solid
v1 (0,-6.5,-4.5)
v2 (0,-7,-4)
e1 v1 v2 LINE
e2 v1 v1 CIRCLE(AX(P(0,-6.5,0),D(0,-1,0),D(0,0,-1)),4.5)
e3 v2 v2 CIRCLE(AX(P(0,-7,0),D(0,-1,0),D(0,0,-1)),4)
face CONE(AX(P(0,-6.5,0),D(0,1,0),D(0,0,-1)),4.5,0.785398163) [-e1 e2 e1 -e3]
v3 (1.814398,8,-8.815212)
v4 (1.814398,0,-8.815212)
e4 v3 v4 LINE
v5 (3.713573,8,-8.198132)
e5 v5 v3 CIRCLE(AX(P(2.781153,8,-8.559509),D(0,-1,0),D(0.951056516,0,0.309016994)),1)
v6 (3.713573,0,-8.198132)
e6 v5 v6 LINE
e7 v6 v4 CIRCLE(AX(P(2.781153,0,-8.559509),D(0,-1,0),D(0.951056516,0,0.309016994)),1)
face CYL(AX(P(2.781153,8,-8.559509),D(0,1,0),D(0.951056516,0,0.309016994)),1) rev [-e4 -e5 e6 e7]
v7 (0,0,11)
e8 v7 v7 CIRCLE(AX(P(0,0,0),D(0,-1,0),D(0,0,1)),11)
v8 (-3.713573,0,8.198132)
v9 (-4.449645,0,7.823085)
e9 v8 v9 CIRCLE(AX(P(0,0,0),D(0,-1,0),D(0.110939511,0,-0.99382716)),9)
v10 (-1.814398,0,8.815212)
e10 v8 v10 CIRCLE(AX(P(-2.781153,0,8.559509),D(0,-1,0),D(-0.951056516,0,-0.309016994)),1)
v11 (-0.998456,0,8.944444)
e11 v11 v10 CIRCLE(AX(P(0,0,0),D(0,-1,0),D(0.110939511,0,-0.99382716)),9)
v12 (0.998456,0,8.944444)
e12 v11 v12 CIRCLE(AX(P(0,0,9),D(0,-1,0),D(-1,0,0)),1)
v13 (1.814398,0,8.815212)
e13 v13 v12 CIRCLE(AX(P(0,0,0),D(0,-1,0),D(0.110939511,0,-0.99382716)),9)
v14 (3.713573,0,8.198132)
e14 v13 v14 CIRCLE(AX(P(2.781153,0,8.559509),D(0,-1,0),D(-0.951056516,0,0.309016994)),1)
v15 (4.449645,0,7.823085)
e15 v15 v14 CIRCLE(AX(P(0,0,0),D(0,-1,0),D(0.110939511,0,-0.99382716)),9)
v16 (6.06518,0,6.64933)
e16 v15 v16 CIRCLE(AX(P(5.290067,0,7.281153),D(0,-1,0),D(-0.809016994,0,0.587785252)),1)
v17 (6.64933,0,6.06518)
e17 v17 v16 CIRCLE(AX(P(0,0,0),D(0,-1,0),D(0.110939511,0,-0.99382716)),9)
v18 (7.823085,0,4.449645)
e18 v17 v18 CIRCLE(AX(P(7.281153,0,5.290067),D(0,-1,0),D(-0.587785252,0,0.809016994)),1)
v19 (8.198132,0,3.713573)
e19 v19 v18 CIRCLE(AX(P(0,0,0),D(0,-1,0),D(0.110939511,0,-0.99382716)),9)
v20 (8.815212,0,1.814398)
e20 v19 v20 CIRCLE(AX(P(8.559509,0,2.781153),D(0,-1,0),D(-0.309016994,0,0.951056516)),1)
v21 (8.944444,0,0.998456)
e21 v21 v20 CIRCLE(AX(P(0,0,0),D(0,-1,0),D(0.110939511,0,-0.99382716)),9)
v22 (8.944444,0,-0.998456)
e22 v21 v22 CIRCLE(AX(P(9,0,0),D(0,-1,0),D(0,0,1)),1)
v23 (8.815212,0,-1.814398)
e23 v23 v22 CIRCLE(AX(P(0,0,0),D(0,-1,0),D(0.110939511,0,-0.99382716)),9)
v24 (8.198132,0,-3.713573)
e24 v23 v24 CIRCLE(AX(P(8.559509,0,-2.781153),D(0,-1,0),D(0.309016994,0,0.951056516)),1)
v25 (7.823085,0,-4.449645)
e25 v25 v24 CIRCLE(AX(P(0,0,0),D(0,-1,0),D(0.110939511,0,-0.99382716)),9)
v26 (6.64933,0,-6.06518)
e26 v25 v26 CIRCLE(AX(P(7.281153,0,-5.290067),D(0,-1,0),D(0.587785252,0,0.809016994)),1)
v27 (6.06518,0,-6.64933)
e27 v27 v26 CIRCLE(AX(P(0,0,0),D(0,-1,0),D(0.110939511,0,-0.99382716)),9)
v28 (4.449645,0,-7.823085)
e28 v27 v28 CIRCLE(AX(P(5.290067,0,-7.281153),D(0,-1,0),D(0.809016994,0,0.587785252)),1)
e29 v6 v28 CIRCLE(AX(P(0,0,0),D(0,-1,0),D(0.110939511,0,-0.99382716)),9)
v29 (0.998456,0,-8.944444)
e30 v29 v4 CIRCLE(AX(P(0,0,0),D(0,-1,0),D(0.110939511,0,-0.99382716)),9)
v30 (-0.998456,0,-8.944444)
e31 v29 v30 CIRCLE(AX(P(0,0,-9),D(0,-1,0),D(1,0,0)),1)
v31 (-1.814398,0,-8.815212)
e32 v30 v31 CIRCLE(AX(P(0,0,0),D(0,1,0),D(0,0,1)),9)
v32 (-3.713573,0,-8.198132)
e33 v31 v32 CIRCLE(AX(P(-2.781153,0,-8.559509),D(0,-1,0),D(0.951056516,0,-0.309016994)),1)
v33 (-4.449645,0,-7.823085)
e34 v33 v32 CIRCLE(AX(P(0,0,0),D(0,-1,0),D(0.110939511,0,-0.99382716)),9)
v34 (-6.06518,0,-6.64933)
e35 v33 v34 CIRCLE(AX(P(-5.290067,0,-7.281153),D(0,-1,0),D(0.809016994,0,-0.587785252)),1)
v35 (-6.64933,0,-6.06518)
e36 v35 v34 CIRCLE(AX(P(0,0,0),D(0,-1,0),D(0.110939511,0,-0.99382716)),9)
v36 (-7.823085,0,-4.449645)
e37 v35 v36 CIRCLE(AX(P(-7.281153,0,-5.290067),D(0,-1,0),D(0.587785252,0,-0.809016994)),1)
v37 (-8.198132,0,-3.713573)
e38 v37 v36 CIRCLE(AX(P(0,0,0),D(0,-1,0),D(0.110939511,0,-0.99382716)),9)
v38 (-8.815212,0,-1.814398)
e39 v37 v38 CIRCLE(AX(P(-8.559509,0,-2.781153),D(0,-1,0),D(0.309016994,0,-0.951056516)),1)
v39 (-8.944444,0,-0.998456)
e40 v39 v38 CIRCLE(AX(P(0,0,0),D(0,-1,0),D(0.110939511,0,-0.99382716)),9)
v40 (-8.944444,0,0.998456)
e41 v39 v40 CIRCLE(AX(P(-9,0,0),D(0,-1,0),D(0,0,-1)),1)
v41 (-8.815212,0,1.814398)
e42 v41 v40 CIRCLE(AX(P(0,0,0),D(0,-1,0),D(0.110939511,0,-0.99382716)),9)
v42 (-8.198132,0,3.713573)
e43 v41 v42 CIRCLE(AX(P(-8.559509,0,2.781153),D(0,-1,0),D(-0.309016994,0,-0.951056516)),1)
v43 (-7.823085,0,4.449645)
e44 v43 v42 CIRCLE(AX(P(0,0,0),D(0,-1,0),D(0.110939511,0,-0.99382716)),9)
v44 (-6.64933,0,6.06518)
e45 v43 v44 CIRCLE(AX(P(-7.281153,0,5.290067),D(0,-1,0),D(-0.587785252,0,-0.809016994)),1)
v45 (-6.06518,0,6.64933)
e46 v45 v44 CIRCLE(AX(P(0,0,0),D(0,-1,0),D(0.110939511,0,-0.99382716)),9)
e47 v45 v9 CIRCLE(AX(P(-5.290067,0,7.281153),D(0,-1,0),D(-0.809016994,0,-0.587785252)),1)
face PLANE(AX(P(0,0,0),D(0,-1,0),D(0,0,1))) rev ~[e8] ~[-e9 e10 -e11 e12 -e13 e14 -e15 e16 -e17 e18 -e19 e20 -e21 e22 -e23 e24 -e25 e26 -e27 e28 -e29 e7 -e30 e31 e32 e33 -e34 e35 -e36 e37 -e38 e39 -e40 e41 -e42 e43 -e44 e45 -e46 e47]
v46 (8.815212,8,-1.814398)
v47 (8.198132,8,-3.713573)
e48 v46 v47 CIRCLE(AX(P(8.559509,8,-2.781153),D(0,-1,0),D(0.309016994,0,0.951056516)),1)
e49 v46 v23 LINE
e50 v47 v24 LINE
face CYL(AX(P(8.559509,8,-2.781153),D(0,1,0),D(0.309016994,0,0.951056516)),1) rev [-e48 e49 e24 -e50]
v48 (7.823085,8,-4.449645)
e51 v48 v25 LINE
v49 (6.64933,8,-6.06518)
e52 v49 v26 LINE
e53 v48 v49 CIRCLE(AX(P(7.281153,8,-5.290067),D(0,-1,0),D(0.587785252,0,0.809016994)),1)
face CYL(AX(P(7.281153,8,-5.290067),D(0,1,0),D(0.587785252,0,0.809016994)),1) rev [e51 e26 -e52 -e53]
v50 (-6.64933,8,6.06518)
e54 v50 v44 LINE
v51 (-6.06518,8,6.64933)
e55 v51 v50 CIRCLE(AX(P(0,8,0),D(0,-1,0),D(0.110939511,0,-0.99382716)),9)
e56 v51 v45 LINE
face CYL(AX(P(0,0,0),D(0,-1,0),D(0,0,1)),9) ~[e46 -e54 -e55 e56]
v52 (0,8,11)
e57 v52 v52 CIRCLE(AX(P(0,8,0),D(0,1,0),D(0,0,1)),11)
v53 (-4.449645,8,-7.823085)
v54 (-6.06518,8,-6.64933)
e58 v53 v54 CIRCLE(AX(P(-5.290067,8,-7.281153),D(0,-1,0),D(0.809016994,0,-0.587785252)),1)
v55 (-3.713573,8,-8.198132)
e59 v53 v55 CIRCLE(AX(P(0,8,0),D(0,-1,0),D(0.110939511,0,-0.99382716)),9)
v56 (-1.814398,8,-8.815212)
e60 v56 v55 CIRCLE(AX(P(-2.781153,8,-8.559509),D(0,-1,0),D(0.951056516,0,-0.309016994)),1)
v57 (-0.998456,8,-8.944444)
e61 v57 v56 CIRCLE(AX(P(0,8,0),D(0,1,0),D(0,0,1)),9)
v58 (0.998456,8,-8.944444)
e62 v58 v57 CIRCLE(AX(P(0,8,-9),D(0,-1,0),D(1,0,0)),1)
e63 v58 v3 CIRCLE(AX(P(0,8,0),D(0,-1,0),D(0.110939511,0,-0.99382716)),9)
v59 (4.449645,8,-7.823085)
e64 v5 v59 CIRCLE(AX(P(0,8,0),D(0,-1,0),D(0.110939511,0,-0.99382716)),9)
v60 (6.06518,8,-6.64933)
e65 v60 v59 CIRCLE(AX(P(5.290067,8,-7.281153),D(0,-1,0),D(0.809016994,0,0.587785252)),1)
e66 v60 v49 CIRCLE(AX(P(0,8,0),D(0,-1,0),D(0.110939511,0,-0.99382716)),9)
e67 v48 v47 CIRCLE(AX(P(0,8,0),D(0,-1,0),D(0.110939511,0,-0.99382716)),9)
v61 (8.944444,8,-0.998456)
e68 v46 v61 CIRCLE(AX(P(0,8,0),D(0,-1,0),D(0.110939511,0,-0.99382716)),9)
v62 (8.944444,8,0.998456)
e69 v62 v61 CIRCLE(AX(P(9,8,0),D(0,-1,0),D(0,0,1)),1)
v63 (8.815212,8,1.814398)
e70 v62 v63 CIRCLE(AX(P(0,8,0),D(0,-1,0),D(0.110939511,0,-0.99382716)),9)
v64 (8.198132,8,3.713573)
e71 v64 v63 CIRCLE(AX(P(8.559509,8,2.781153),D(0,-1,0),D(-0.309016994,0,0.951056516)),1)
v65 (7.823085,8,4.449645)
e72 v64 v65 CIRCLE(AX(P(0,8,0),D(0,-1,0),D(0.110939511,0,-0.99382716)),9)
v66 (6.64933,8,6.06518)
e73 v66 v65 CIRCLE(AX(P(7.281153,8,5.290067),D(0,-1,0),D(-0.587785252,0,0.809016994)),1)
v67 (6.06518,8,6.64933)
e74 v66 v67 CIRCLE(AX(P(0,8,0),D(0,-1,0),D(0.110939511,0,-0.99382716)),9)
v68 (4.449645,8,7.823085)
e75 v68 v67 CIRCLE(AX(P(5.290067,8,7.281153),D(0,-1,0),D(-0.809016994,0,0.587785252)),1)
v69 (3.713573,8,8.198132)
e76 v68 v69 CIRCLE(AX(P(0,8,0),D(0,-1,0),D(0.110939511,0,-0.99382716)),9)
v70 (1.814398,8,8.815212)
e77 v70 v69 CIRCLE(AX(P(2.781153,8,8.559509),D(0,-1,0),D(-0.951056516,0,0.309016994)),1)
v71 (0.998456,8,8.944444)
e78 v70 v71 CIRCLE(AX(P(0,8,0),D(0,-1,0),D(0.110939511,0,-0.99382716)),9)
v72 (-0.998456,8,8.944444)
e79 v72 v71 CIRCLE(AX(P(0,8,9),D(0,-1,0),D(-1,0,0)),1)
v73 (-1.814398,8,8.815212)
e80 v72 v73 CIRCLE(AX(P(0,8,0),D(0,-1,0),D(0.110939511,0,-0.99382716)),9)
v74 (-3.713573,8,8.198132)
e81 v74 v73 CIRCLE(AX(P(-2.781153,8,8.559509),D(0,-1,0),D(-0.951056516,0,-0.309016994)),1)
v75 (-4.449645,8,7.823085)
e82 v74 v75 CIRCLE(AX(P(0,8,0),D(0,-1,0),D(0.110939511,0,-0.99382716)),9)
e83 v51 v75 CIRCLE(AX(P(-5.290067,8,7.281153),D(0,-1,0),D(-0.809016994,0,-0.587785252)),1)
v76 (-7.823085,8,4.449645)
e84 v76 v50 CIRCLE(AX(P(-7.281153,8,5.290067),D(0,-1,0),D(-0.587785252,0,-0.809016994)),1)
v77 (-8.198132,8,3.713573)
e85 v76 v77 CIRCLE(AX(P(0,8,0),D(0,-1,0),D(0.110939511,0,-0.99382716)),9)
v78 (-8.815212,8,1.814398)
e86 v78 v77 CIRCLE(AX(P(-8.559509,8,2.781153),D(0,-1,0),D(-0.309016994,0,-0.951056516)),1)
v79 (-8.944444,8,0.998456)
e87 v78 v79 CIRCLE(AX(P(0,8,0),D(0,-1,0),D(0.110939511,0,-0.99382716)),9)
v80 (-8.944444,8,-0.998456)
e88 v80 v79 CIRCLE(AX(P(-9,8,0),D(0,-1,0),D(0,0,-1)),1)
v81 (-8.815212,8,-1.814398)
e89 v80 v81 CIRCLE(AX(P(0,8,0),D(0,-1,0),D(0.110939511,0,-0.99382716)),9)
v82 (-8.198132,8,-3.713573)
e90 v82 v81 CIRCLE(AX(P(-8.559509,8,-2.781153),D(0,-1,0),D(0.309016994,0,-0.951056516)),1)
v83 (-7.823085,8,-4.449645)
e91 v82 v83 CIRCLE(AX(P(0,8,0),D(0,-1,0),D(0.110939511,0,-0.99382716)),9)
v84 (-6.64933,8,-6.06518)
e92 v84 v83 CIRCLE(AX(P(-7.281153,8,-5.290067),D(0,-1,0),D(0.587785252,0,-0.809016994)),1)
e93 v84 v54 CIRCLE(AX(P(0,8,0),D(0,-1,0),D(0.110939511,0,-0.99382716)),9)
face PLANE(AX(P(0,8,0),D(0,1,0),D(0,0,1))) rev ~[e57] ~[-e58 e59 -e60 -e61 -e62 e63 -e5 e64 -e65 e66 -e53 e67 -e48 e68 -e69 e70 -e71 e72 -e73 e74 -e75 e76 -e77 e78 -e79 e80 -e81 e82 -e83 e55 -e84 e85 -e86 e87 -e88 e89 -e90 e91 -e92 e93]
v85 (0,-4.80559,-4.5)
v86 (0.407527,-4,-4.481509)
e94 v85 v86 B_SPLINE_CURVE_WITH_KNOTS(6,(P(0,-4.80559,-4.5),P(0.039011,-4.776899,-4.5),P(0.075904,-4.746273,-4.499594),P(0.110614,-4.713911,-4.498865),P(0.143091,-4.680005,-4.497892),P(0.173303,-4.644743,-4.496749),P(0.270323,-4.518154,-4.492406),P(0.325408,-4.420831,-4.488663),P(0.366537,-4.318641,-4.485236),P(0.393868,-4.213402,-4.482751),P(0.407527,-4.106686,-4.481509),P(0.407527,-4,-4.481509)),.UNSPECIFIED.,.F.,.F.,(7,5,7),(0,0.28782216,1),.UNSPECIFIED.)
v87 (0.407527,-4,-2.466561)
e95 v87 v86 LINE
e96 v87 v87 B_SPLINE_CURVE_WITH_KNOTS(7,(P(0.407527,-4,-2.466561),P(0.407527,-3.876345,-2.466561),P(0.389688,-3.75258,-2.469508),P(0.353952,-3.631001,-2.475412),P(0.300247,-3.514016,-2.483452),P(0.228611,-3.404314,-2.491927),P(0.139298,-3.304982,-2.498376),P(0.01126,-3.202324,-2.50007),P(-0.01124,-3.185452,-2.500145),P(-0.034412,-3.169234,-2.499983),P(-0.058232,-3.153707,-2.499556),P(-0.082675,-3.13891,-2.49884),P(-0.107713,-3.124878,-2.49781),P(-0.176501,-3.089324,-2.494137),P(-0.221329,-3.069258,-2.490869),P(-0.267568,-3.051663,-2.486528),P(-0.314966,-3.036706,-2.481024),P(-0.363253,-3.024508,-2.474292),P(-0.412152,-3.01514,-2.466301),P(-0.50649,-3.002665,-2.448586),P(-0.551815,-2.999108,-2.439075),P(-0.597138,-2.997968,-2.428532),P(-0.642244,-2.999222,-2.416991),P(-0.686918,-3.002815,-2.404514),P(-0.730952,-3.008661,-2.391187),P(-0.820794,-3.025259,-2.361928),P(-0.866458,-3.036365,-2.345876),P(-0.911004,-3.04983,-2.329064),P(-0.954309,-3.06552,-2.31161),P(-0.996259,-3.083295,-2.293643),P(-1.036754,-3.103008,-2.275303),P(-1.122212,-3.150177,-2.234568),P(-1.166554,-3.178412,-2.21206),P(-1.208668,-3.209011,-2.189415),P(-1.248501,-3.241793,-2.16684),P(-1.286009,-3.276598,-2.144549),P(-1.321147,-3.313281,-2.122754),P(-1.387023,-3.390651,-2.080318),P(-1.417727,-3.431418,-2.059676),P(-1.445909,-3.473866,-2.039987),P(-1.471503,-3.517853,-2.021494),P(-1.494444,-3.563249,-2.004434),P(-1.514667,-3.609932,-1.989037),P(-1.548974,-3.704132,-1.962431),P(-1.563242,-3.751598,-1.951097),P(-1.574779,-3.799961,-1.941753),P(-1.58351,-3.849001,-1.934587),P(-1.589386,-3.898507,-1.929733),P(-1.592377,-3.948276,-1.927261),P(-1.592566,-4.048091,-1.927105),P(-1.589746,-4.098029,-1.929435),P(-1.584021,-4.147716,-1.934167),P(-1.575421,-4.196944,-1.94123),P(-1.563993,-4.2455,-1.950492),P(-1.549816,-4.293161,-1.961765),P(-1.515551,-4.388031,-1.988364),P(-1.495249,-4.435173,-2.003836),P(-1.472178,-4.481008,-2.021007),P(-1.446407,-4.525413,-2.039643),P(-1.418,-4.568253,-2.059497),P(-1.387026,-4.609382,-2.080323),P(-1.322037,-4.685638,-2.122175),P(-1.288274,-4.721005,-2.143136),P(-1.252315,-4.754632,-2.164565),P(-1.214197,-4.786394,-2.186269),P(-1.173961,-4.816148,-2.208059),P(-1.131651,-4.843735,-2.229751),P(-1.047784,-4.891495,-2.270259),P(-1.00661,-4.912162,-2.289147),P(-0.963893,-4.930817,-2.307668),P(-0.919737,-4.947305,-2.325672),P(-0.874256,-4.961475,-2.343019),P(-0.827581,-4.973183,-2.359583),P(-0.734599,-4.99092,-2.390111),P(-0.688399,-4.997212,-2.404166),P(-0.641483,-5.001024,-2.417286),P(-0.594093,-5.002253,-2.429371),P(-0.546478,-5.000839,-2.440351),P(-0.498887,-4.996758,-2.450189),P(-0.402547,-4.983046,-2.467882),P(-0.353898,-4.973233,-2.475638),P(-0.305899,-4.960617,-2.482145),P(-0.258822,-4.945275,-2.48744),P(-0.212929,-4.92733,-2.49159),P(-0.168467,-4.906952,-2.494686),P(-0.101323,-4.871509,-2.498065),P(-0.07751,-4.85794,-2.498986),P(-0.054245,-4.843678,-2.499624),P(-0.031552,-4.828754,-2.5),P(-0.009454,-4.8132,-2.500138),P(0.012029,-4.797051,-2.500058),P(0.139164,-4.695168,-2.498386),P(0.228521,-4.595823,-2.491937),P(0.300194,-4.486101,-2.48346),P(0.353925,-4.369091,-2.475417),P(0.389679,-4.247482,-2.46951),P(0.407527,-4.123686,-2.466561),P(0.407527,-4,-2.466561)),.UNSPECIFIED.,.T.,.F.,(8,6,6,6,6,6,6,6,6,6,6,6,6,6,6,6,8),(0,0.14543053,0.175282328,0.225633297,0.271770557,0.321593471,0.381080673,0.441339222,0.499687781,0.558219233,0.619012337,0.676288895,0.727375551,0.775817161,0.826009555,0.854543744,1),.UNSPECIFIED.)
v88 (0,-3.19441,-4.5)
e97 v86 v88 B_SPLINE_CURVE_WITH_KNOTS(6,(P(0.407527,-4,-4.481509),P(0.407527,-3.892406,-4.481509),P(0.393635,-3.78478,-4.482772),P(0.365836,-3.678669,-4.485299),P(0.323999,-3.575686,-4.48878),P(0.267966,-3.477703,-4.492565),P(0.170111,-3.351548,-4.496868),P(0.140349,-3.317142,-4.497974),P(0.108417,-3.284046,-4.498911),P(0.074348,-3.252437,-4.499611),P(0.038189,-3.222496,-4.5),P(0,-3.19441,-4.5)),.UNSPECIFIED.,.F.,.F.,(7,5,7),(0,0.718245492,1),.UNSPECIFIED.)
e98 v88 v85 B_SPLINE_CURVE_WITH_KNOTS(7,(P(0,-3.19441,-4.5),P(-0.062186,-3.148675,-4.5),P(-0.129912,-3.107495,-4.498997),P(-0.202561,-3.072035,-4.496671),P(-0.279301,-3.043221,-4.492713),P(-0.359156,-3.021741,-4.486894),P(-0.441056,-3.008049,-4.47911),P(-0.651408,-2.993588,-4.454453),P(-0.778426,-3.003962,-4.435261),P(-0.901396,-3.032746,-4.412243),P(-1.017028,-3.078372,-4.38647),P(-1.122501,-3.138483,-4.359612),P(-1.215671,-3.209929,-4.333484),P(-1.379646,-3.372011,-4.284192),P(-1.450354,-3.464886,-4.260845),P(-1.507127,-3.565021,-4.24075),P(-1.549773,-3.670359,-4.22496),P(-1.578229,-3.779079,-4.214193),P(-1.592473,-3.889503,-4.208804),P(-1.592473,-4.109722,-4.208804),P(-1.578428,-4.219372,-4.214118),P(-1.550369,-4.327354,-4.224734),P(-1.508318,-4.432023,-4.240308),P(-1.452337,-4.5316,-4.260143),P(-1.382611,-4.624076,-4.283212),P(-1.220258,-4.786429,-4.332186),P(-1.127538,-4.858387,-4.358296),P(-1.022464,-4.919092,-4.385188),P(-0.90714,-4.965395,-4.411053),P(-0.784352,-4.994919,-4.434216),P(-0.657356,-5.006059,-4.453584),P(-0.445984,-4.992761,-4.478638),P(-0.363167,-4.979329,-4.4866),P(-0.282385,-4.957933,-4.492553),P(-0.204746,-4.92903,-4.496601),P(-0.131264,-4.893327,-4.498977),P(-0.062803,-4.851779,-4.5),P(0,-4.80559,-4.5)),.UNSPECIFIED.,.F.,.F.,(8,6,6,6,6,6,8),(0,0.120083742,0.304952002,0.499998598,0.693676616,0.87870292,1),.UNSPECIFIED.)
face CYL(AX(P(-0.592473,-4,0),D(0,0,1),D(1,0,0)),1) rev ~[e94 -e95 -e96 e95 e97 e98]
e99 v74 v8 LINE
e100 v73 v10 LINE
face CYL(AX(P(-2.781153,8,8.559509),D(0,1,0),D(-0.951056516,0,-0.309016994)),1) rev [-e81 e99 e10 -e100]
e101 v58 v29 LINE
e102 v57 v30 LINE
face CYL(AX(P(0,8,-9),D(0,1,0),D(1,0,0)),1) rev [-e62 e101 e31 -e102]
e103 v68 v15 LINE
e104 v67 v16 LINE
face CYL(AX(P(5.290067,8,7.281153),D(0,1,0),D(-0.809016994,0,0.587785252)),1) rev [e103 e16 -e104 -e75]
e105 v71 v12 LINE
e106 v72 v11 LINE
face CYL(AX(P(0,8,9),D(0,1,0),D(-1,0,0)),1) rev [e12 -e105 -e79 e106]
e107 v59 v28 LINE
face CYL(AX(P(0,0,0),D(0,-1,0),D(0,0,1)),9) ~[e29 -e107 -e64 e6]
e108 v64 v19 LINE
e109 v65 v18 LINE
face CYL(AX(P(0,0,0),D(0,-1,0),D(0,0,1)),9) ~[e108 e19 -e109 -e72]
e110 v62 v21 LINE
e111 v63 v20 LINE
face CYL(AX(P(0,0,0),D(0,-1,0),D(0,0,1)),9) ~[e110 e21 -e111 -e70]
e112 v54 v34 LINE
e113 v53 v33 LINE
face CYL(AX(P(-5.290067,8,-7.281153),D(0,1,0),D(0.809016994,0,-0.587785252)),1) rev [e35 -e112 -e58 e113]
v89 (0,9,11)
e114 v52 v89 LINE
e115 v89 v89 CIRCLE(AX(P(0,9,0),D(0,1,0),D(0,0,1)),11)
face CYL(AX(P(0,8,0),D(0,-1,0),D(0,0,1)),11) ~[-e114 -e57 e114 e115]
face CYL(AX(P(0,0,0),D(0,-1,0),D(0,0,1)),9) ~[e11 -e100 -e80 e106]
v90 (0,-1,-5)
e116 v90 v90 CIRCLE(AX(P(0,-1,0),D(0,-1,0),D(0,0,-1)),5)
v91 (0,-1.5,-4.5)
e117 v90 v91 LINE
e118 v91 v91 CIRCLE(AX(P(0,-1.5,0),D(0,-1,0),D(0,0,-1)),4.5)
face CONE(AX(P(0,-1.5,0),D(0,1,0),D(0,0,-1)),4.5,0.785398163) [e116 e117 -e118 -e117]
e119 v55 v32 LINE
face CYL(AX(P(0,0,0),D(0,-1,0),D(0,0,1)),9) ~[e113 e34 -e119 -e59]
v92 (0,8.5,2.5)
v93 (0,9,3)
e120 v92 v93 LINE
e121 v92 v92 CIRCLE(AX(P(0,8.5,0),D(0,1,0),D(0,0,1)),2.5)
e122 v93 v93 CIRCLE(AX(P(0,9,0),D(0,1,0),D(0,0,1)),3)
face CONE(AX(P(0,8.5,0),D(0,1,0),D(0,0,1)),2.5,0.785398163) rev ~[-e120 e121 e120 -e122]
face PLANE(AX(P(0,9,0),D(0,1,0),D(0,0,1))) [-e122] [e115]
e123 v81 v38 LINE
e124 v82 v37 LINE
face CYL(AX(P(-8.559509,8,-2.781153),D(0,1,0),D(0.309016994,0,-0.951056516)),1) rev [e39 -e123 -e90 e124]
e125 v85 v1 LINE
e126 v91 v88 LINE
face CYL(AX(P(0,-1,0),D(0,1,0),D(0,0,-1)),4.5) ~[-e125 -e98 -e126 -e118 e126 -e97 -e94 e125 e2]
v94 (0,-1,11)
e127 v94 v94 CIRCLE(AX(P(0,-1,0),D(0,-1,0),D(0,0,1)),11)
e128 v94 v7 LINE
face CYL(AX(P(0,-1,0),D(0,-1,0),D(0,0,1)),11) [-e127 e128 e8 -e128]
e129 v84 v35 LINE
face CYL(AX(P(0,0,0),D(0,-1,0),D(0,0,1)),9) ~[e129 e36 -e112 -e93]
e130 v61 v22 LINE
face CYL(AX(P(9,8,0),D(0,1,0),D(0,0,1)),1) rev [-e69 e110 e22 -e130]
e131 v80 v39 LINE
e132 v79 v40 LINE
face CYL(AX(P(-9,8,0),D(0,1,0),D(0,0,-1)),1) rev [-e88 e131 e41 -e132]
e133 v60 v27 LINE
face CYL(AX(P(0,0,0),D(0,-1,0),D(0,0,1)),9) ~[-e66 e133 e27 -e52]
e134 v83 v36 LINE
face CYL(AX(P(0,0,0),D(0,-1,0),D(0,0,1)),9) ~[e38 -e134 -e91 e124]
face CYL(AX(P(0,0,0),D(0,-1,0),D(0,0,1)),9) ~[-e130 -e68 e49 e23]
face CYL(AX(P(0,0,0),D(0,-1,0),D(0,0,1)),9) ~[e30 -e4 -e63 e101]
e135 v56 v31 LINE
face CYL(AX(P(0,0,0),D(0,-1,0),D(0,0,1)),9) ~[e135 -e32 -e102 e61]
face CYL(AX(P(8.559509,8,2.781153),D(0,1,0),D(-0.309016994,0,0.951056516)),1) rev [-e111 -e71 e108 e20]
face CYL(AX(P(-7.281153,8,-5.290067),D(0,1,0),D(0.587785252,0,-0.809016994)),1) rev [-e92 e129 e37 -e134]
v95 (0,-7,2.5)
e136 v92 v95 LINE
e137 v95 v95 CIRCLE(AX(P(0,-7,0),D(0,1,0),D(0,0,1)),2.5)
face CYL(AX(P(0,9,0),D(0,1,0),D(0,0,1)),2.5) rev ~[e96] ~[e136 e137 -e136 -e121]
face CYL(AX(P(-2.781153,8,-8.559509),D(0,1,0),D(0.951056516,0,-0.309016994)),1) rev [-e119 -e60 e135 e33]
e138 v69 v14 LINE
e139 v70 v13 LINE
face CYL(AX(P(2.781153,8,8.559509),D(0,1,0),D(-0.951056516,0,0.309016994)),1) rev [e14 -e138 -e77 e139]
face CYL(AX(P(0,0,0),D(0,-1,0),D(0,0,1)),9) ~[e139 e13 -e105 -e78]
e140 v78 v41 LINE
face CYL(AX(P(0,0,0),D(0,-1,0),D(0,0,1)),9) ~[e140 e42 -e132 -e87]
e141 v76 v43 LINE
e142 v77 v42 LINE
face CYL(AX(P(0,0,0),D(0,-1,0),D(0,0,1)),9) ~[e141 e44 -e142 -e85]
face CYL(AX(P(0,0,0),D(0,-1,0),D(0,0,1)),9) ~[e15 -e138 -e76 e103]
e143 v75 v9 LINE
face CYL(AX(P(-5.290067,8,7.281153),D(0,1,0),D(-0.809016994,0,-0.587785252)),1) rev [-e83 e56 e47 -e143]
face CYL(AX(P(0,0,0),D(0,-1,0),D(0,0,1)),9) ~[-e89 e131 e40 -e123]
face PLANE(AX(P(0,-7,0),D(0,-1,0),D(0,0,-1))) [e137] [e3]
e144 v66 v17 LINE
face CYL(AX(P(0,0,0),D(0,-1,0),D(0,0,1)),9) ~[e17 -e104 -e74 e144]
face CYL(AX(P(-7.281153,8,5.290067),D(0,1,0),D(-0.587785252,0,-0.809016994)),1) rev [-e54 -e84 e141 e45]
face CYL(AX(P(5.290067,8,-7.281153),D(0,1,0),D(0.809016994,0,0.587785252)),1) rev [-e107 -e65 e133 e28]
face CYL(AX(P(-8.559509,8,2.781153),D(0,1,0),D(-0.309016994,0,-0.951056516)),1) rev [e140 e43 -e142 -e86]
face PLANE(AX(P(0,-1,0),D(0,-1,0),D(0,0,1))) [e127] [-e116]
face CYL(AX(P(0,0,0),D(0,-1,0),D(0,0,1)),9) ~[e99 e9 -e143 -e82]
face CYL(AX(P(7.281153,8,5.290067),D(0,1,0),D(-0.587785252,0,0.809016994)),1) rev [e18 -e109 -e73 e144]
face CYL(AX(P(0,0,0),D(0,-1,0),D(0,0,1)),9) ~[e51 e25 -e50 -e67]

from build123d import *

# Parameters (mm, degrees)
CROQUIS1_R              = 9
SALIENTE_EXTRUIR1_DEPTH = 8
CROQUIS3_R              = 11
SALIENTE_EXTRUIR2_DEPTH = 1
SALIENTE_EXTRUIR3_START = 1
CROQUIS4_R              = 11
SALIENTE_EXTRUIR3_DEPTH = 1
CROQUIS5_R              = 4.5
SALIENTE_EXTRUIR4_DEPTH = 6
CROQUIS6_R              = 2.5
CORTAR_EXTRUIR1_DEPTH   = 23.315913604
CROQUIS7_R              = 1
CORTAR_EXTRUIR2_DEPTH   = 18.972200756
CROQUIS8_R              = 1
CORTAR_EXTRUIR5_DEPTH   = 8
MATRIZC1_COUNT          = 20
CHAFL_N1_SIZE           = 0.5


with BuildPart() as part:
    # Croquis1 → Saliente-Extruir1 (new body)
    with BuildSketch(Plane(origin=(0, 0, 0), x_dir=(1, 0, 0), z_dir=(0, 1, 0))):
        with Locations(Location((0, 0, 0), (0, 0, 270))):
            Circle(CROQUIS1_R)
    extrude(amount=SALIENTE_EXTRUIR1_DEPTH)

    # Croquis3 → Saliente-Extruir2 (add)
    with BuildSketch(Plane(origin=(0, 8, 0), x_dir=(1, 0, 0), z_dir=(0, 1, 0))):
        with Locations(Location((0, 0, 0), (0, 0, 270))):
            Circle(CROQUIS3_R)
    extrude(amount=SALIENTE_EXTRUIR2_DEPTH)

    # Croquis4 → Saliente-Extruir3 (add)
    with BuildSketch(Plane.XZ.offset(SALIENTE_EXTRUIR3_START)):
        with Locations(Location((0, 0, 0), (0, 0, 90))):
            Circle(CROQUIS4_R)
    extrude(amount=-SALIENTE_EXTRUIR3_DEPTH)

    # Croquis5 → Saliente-Extruir4 (add)
    with BuildSketch(Plane.XZ.offset(1)):
        with Locations(Location((0, 0, 0), (0, 0, 270))):
            Circle(CROQUIS5_R)
    extrude(amount=SALIENTE_EXTRUIR4_DEPTH)

    # Croquis6 → Cortar-Extruir1 (cut, through all)
    with BuildSketch(Plane(origin=(0, 9, 0), x_dir=(1, 0, 0), z_dir=(0, 1, 0))):
        with Locations(Location((0, 0, 0), (0, 0, 270))):
            Circle(CROQUIS6_R)
    extrude(amount=-CORTAR_EXTRUIR1_DEPTH, mode=Mode.SUBTRACT)

    # Croquis7 → Cortar-Extruir2 (cut, through all)
    with BuildSketch(Plane.XY):
        with Locations((-0.592473365, -4)):
            Circle(CROQUIS7_R)
    extrude(amount=-CORTAR_EXTRUIR2_DEPTH, mode=Mode.SUBTRACT)

    # Croquis8 → Cortar-Extruir5 (cut)
    with BuildSketch(Plane.XZ.offset(-8)):
        with Locations((0, -9)):
            Circle(CROQUIS8_R)
    cortar_extruir5 = extrude(amount=CORTAR_EXTRUIR5_DEPTH, mode=Mode.SUBTRACT)

    # MatrizC1: Cortar-Extruir5 ×20 about axis
    matrizc1_axis = Axis((0, 0, 0), (0, 1, 0))
    for i in range(1, MATRIZC1_COUNT):
        add(cortar_extruir5.rotate(matrizc1_axis, i * 360 / MATRIZC1_COUNT), mode=Mode.SUBTRACT)

    # Chaflán1
    chafl_n1_edges = [part.edges().sort_by_distance(p)[0] for p in [
        (0, -1, 4.5),
        (0, -7, 4.5),
        (0, 9, -2.5),
    ]]
    chamfer(chafl_n1_edges, length=CHAFL_N1_SIZE)


solid = part.part
